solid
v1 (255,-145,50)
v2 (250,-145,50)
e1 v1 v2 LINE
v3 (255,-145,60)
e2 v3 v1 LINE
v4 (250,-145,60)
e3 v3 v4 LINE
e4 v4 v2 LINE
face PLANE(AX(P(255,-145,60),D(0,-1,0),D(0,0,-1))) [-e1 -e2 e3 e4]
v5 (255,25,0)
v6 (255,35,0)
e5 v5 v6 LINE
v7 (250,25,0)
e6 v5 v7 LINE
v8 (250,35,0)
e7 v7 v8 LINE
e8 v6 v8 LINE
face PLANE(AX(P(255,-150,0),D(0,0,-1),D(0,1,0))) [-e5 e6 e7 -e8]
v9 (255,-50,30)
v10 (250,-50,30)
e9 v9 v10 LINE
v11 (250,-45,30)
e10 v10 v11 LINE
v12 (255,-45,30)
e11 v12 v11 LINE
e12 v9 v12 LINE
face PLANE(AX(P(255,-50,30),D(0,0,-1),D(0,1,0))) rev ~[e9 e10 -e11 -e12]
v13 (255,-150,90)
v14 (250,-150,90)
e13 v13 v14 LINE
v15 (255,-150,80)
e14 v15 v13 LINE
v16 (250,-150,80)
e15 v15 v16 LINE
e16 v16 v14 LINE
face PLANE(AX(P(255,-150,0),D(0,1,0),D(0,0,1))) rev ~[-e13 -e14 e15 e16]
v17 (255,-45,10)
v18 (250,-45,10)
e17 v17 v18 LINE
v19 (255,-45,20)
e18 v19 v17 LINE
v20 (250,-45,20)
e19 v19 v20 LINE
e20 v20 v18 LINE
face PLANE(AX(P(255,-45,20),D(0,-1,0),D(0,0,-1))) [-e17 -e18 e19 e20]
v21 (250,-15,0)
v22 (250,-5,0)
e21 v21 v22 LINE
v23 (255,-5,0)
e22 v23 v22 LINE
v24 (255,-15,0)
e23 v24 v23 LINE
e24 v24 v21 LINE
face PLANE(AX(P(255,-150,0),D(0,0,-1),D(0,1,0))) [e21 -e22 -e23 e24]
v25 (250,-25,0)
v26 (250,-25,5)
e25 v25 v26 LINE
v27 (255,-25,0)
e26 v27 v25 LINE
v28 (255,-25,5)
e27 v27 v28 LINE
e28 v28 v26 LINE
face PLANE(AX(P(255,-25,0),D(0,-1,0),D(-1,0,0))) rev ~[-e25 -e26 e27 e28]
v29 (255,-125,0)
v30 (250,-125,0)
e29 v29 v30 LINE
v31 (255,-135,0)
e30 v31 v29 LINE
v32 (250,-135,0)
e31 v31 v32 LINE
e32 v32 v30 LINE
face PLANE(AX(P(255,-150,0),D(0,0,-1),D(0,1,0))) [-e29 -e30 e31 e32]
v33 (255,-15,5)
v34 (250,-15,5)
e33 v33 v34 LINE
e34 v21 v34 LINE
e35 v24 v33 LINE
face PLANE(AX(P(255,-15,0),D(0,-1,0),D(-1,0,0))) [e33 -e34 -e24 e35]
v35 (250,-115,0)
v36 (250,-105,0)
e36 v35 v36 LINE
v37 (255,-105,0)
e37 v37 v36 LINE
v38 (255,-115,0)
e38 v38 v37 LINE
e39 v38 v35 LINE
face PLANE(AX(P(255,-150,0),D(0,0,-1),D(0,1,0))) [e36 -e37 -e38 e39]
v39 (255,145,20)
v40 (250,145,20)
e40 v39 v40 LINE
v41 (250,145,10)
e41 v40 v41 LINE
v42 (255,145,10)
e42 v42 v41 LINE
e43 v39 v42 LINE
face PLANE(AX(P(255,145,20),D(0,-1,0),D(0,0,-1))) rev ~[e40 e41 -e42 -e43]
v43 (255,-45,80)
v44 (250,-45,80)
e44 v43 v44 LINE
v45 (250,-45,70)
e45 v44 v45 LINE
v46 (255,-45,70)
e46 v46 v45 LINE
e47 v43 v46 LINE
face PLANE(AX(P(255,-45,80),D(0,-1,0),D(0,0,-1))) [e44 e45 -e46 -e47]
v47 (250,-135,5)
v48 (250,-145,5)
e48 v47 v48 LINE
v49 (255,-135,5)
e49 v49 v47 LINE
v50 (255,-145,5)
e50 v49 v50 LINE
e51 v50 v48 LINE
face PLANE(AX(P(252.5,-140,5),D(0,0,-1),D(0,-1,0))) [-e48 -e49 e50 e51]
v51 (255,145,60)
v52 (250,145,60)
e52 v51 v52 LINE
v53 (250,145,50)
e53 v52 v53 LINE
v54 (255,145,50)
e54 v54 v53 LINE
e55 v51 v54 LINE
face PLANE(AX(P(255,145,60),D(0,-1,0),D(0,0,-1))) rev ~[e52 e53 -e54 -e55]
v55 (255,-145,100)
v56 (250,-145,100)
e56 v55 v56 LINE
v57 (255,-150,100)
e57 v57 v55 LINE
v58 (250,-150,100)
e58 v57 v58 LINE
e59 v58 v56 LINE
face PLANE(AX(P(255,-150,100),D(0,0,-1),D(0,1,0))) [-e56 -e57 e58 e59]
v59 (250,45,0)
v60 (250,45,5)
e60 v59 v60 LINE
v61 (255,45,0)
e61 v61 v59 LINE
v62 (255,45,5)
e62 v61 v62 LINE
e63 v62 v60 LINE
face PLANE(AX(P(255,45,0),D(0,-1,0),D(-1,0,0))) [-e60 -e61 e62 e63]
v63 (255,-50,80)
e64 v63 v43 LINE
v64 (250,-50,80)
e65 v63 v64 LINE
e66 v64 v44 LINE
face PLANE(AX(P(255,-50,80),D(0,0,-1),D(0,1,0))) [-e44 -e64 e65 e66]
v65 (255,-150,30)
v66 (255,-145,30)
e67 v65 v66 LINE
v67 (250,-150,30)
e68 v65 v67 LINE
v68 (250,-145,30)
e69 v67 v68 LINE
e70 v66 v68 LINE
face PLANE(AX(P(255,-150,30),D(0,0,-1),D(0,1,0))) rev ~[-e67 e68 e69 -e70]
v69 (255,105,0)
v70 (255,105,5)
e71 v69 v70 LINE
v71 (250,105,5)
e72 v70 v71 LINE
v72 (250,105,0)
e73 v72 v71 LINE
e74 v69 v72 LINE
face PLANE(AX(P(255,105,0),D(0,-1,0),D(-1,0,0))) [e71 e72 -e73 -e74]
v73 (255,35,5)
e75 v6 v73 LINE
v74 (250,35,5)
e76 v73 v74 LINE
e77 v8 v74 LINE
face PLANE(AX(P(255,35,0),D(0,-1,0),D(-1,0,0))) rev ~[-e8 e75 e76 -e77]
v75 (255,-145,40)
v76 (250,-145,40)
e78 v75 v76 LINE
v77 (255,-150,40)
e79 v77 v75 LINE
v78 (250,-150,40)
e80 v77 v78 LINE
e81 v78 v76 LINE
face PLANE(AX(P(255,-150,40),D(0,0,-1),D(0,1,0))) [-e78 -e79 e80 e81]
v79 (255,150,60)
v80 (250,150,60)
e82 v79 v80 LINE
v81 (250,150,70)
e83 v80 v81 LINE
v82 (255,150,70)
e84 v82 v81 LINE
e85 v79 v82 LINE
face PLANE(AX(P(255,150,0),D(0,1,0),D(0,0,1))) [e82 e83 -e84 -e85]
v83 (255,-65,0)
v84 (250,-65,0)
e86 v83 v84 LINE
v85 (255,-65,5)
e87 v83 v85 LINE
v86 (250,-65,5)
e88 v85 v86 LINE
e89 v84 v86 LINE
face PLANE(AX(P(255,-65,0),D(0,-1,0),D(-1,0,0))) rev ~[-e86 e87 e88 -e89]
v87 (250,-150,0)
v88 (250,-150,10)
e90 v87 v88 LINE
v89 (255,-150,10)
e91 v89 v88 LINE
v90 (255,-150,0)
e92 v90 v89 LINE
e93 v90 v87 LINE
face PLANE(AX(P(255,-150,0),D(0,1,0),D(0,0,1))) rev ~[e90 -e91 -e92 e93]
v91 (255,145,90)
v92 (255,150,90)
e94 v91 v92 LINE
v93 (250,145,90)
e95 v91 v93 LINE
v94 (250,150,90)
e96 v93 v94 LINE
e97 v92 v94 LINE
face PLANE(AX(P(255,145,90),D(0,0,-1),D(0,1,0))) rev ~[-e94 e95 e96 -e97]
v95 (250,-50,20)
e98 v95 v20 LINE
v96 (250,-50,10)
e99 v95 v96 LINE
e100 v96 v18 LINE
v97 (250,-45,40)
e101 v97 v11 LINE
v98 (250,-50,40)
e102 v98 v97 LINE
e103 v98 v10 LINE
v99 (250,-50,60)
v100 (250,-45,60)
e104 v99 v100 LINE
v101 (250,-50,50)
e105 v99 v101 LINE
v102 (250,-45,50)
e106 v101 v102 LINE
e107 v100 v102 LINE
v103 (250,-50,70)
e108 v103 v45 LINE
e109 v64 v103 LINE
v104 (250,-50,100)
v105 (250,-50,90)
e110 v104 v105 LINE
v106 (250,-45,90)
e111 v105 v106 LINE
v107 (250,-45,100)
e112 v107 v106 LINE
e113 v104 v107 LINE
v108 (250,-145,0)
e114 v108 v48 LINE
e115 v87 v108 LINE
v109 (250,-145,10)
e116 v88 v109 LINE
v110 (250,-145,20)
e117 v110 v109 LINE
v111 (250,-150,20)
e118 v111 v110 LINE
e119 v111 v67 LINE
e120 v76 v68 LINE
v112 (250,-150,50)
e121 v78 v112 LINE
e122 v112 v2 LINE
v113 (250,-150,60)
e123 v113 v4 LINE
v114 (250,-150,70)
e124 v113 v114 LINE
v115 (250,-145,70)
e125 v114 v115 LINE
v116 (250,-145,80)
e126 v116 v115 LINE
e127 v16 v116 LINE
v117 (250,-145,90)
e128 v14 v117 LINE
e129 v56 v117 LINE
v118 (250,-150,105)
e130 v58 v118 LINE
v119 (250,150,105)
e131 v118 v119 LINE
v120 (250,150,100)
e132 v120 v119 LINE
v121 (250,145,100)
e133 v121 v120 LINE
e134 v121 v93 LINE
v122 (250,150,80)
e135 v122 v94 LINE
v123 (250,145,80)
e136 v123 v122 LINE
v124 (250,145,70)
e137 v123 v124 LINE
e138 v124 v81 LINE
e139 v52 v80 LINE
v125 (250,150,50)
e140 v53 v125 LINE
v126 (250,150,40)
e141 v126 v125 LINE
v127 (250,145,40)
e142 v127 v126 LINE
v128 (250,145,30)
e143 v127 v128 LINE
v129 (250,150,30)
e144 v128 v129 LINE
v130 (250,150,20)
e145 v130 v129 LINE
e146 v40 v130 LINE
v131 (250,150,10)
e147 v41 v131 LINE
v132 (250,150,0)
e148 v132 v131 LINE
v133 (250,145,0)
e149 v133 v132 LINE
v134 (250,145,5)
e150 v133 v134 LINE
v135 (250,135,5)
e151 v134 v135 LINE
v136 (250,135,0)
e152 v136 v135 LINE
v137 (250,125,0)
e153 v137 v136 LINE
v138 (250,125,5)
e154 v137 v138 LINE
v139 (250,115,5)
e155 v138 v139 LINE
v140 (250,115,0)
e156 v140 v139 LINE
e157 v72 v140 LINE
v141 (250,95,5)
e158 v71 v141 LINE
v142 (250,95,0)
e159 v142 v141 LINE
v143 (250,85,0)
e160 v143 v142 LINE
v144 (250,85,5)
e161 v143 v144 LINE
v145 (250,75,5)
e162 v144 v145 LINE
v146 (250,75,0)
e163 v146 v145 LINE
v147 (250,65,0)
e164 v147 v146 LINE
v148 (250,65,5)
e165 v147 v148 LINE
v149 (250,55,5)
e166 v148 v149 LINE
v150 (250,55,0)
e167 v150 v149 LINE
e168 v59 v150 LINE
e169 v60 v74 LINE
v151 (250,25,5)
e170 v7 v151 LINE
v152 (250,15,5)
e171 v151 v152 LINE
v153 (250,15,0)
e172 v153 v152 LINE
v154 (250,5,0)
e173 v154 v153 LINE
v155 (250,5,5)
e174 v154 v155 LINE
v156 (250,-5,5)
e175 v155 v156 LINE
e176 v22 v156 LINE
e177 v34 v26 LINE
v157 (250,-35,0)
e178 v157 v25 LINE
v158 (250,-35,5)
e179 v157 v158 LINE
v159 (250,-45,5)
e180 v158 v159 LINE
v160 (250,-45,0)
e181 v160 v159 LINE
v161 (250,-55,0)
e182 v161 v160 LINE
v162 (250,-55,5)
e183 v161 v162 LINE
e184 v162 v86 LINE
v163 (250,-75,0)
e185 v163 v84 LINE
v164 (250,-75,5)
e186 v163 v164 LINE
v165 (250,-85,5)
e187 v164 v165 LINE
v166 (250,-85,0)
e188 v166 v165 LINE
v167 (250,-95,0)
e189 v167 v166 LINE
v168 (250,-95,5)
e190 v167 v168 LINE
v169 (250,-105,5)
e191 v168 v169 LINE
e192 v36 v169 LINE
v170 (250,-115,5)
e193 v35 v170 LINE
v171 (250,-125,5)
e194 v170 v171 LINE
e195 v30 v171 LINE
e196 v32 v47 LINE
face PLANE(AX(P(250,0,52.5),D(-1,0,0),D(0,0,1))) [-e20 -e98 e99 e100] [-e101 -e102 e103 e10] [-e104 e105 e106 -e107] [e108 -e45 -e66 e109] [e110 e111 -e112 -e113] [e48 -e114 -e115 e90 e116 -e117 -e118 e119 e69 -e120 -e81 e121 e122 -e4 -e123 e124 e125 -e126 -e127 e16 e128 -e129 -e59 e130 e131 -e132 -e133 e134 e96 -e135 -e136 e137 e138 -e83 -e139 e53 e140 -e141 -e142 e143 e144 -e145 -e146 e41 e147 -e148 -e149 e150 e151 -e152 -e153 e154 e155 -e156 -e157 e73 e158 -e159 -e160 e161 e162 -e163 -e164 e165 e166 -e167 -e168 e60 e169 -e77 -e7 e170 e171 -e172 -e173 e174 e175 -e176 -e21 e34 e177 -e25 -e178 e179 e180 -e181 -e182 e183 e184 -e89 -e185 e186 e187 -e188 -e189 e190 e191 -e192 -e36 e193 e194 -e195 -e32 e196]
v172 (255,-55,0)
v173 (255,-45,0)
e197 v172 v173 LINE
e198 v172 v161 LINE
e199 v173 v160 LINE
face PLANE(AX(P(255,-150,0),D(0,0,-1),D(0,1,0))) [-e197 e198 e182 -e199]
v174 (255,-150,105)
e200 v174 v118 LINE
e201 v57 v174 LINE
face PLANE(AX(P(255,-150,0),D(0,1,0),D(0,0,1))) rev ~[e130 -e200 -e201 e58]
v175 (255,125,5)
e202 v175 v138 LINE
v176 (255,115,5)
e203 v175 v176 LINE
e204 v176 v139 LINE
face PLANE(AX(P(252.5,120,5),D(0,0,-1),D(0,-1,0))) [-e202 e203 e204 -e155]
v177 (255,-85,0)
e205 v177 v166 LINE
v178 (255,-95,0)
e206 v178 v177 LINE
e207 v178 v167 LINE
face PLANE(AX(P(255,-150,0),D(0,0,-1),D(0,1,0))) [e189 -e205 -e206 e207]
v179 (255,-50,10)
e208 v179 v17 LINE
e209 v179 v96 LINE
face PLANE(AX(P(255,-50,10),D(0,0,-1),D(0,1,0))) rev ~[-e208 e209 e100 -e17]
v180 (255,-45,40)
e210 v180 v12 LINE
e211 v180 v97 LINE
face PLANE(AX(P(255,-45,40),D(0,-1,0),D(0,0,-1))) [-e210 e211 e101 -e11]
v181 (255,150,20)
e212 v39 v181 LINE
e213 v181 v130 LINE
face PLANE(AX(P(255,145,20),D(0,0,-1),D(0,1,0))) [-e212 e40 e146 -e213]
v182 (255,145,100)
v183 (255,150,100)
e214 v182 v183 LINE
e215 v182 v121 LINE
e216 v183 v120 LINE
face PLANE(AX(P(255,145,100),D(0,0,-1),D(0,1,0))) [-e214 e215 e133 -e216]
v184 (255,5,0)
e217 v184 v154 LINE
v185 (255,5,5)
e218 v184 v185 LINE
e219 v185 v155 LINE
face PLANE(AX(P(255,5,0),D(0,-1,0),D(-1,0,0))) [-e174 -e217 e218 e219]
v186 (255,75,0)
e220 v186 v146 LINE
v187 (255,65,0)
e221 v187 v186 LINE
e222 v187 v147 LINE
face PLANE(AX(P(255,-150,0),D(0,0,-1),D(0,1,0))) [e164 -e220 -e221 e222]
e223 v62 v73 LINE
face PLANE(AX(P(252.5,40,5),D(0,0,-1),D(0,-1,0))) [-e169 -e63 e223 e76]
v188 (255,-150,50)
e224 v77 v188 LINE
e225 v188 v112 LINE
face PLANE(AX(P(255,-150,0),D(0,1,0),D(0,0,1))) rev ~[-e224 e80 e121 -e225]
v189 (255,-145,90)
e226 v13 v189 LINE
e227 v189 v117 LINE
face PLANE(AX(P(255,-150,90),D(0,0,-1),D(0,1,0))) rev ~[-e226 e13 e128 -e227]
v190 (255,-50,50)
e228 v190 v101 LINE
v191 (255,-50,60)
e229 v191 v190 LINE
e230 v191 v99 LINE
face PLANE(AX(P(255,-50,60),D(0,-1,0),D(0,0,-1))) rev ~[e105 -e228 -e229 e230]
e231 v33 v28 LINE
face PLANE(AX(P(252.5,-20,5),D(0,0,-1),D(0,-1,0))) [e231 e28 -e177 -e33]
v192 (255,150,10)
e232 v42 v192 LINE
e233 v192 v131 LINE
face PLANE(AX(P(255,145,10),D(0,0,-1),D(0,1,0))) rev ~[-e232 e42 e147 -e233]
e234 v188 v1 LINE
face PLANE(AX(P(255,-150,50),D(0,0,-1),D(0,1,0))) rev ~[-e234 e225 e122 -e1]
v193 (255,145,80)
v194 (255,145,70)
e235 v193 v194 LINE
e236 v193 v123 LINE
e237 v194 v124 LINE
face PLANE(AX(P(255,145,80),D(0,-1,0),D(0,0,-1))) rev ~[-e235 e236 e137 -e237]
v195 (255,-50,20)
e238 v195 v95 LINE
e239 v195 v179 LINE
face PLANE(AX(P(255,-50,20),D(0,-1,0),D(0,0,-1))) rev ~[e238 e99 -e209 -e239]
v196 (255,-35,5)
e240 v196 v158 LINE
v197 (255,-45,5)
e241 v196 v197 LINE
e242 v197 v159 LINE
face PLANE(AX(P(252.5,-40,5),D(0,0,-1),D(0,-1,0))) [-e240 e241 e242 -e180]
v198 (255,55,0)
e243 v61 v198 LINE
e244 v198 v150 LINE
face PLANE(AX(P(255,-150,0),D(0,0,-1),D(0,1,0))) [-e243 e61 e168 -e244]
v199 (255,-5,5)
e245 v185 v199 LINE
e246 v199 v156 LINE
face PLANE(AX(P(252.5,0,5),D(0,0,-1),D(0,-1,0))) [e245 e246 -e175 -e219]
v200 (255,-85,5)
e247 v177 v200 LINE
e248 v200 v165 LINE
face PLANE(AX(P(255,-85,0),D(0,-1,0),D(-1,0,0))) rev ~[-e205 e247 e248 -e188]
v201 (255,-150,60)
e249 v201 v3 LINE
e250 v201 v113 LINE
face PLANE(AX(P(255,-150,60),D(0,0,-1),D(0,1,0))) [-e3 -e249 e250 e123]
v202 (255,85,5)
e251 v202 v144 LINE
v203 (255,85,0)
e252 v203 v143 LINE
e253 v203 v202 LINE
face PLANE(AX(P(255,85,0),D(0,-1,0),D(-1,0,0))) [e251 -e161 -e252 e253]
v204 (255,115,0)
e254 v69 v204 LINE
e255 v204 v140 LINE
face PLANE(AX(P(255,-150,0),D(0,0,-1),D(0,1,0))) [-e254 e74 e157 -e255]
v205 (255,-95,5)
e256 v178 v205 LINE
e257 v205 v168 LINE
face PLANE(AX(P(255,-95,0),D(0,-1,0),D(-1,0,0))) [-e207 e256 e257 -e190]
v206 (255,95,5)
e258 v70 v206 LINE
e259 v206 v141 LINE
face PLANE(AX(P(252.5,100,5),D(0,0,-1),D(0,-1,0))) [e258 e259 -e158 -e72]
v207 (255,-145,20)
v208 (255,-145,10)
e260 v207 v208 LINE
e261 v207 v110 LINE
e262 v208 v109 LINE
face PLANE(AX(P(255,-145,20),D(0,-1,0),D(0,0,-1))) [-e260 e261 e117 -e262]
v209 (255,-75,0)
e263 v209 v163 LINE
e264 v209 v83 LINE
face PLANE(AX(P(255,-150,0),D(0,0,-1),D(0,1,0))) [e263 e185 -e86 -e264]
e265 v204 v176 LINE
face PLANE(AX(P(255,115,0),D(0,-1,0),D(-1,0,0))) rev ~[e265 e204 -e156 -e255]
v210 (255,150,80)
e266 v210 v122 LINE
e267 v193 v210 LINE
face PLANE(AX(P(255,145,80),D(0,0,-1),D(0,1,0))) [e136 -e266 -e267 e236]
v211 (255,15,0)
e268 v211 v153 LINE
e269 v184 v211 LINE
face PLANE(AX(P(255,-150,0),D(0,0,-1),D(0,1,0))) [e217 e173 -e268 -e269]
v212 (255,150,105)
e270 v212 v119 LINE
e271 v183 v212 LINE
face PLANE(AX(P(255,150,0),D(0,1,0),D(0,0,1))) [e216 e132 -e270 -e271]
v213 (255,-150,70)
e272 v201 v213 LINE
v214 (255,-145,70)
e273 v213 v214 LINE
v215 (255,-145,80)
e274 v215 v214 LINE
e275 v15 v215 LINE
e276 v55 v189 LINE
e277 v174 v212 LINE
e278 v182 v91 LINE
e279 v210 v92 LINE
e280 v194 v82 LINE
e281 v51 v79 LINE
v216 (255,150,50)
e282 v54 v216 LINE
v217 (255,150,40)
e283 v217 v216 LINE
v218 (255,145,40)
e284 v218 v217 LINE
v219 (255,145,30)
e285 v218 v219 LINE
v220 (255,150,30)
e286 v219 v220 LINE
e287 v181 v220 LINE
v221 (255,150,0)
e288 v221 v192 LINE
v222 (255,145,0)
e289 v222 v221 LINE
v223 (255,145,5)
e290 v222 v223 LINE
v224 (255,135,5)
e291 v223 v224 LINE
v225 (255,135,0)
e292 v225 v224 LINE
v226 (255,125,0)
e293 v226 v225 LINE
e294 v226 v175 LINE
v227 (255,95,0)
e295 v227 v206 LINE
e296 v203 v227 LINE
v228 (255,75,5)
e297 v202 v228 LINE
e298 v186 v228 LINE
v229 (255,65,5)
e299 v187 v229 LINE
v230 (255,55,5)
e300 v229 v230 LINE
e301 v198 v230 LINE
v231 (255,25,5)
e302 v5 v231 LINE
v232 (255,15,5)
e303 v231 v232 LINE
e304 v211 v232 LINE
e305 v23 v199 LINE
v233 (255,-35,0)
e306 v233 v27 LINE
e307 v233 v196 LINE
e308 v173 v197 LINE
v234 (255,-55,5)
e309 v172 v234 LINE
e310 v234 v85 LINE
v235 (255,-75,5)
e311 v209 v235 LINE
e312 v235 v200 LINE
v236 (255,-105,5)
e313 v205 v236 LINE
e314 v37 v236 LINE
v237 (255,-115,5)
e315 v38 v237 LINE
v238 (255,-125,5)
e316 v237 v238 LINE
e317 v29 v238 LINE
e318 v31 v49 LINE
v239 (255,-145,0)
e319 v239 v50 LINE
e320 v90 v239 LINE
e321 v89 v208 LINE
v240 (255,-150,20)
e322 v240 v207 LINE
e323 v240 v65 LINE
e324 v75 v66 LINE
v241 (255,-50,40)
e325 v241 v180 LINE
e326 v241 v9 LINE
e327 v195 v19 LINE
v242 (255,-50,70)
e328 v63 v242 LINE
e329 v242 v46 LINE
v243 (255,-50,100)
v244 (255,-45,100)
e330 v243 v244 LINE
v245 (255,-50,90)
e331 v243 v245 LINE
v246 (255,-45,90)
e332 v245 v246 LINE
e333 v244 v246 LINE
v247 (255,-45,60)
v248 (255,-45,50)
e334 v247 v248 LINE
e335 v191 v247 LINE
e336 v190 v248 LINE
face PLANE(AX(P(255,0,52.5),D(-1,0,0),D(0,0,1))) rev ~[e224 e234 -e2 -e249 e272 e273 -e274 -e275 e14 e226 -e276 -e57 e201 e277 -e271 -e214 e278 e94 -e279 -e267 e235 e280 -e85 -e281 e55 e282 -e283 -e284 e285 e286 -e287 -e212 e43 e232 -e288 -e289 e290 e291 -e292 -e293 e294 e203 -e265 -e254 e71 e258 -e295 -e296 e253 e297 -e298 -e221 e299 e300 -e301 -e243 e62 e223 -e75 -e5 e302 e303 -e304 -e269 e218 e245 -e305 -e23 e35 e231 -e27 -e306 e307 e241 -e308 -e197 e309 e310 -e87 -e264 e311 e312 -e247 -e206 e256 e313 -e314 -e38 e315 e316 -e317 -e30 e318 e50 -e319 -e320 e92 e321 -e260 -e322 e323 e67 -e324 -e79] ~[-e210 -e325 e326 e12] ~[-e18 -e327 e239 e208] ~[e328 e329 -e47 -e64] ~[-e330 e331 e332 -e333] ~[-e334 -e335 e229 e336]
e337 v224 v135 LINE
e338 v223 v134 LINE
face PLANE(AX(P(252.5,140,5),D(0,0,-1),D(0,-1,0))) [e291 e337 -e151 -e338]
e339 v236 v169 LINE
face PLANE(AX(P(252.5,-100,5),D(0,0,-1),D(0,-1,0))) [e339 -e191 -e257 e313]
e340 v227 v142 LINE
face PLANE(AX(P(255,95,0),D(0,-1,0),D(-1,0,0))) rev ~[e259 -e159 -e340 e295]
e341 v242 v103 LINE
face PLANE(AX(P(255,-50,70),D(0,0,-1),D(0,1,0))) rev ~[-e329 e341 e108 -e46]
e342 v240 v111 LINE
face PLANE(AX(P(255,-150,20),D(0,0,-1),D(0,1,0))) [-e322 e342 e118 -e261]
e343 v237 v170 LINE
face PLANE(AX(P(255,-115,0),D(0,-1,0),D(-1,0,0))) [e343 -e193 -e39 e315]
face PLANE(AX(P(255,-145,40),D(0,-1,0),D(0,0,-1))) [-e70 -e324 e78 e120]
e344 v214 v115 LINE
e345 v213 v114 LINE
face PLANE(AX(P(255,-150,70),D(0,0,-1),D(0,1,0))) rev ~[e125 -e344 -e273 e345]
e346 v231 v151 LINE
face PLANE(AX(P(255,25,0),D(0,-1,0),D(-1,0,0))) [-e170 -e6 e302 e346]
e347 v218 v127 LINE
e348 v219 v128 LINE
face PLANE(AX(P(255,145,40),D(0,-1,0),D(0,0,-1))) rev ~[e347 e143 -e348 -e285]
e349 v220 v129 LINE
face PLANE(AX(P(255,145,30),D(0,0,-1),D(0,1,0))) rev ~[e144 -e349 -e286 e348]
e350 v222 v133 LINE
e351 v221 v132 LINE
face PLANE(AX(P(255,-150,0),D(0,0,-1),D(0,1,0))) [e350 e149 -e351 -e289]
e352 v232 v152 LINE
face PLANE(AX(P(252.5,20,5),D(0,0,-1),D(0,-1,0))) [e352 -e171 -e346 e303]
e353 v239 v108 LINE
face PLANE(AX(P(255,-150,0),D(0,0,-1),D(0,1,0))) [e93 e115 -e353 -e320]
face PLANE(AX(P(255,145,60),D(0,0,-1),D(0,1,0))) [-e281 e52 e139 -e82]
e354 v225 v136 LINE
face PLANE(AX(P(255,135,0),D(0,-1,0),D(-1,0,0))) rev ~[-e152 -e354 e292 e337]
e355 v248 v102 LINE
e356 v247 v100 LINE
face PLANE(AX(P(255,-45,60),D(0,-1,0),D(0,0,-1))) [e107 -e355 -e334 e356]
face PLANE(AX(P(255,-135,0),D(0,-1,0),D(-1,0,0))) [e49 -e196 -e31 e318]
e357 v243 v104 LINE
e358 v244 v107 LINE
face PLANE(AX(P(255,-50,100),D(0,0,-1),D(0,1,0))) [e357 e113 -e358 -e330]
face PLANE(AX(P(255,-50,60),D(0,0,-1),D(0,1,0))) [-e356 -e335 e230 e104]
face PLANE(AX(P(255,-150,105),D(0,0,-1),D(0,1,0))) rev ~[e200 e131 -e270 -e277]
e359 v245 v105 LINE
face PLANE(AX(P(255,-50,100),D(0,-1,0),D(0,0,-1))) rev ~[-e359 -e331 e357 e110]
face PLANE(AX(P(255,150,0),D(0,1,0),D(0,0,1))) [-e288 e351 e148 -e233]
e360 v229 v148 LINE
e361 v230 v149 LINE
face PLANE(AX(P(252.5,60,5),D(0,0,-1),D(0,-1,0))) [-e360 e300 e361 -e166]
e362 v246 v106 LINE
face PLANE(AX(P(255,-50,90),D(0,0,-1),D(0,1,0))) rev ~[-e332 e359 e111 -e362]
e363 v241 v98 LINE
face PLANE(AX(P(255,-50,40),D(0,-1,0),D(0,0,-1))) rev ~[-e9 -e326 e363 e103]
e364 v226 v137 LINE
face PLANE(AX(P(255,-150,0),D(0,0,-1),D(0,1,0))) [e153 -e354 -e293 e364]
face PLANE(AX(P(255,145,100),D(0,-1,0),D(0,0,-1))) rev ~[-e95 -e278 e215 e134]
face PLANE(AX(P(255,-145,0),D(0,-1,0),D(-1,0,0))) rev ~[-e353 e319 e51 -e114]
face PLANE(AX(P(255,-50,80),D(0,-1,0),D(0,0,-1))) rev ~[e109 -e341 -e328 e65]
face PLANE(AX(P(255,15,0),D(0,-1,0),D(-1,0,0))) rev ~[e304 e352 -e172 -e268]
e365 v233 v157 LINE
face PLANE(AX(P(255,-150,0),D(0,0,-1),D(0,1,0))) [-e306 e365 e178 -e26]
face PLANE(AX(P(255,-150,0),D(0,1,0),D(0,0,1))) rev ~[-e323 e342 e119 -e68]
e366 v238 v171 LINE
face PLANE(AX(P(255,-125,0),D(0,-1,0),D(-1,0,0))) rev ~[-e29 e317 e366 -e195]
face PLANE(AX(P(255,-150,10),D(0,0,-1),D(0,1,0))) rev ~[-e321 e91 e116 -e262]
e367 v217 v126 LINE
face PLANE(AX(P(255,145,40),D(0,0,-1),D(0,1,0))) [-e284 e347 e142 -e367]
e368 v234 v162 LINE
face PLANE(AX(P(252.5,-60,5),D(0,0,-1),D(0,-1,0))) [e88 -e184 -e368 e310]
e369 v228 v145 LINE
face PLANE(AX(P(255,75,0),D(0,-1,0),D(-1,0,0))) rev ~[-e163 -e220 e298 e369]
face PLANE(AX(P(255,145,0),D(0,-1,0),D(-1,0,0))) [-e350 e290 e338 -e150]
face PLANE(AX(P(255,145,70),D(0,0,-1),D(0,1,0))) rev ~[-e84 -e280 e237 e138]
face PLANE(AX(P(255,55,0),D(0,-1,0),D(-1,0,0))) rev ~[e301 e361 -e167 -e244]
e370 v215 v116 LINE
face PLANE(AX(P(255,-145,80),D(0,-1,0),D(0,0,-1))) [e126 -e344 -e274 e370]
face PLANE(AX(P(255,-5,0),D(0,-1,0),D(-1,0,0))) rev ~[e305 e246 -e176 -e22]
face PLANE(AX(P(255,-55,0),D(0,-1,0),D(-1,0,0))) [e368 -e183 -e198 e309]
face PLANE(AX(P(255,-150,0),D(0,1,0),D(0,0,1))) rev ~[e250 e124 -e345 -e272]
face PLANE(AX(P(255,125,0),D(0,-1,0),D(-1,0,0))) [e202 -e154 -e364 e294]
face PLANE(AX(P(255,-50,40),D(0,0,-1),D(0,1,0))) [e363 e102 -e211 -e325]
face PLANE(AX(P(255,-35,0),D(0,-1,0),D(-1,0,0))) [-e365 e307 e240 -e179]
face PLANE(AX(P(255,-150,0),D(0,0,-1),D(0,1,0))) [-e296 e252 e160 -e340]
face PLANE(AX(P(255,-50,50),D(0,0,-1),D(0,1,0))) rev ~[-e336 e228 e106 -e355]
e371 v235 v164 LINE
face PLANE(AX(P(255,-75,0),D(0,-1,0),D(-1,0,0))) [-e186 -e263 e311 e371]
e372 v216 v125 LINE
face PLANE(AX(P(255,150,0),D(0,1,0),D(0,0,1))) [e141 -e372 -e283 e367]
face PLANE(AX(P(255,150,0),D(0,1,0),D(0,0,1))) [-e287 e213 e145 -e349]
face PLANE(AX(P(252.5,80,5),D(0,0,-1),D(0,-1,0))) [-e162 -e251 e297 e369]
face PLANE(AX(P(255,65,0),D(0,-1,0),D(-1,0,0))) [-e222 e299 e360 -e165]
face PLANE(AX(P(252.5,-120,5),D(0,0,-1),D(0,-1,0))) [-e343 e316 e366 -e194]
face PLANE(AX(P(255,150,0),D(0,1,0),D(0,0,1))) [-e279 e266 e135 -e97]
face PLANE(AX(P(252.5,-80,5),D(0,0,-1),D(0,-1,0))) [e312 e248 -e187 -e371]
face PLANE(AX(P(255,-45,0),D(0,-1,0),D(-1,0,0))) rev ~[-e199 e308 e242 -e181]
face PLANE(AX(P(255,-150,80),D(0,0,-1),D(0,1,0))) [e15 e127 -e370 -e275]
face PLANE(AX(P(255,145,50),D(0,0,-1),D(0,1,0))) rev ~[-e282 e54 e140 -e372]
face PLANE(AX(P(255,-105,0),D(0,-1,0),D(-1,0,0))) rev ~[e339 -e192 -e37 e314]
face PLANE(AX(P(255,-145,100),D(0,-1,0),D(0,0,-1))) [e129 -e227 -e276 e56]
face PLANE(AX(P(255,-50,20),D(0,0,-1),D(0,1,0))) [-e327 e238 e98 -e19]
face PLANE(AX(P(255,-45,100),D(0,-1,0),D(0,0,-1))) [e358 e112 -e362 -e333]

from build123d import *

# Parameters (mm, degrees)
SKETCH002_W             = 105
SKETCH002_H             = 300
PAD002_DEPTH            = 5
SKETCH028_W             = 10
SKETCH028_H             = 5
POCKET002_DEPTH         = 5
LINEARPATTERN008_COUNT  = 15
LINEARPATTERN008_PITCH  = 20
SKETCH124_W             = 10
SKETCH124_H             = 5
POCKET034_DEPTH         = 5
LINEARPATTERN076_COUNT  = 5
LINEARPATTERN076_PITCH  = 20
BODY002_PLACEMENT_ANGLE = 90


with BuildPart() as part:
    # Sketch002 → Pad002 (new body)
    with BuildSketch(Plane.XY):
        Rectangle(SKETCH002_W, SKETCH002_H)
    extrude(amount=PAD002_DEPTH)

    # Sketch028 (on DatumPlane) → Pocket002 (cut)
    with BuildSketch(Plane(origin=(-52.5, 0, 0), x_dir=(0, -1, 0), z_dir=(-1, 0, 0))):
        with Locations((-140, 2.5)):
            Rectangle(SKETCH028_W, SKETCH028_H)
    pocket002 = extrude(amount=-POCKET002_DEPTH, mode=Mode.SUBTRACT)

    # LinearPattern008: Pocket002 ×15
    with Locations(*[(0, -i * LINEARPATTERN008_PITCH, 0) for i in range(1, LINEARPATTERN008_COUNT)]):
        add(pocket002, mode=Mode.SUBTRACT)

    # Sketch124 (on DatumPlane) → Pocket034 (cut)
    with BuildSketch(Plane(origin=(0, 0, 0), x_dir=(-1, 0, 0), z_dir=(0, 0, -1))):
        with Locations((-42.5, 147.5)):
            Rectangle(SKETCH124_W, SKETCH124_H)
        with Locations((-42.5, -147.5)):
            Rectangle(SKETCH124_W, SKETCH124_H)
        with Locations((-42.5, -47.5)):
            Rectangle(SKETCH124_W, SKETCH124_H)
    pocket034 = extrude(amount=-POCKET034_DEPTH, mode=Mode.SUBTRACT)

    # LinearPattern076: Pocket034 ×5
    with Locations(*[(-i * LINEARPATTERN076_PITCH, 0, 0) for i in range(1, LINEARPATTERN076_COUNT)]):
        add(pocket034, mode=Mode.SUBTRACT)


with BuildPart() as part_1:
    # Body002 placement: moved
    add(part.part.moved(Location((255, 0, 52.5))).rotate(Axis((255, 0, 52.5), (0, -1, 0)), BODY002_PLACEMENT_ANGLE))


solid = part_1.part
